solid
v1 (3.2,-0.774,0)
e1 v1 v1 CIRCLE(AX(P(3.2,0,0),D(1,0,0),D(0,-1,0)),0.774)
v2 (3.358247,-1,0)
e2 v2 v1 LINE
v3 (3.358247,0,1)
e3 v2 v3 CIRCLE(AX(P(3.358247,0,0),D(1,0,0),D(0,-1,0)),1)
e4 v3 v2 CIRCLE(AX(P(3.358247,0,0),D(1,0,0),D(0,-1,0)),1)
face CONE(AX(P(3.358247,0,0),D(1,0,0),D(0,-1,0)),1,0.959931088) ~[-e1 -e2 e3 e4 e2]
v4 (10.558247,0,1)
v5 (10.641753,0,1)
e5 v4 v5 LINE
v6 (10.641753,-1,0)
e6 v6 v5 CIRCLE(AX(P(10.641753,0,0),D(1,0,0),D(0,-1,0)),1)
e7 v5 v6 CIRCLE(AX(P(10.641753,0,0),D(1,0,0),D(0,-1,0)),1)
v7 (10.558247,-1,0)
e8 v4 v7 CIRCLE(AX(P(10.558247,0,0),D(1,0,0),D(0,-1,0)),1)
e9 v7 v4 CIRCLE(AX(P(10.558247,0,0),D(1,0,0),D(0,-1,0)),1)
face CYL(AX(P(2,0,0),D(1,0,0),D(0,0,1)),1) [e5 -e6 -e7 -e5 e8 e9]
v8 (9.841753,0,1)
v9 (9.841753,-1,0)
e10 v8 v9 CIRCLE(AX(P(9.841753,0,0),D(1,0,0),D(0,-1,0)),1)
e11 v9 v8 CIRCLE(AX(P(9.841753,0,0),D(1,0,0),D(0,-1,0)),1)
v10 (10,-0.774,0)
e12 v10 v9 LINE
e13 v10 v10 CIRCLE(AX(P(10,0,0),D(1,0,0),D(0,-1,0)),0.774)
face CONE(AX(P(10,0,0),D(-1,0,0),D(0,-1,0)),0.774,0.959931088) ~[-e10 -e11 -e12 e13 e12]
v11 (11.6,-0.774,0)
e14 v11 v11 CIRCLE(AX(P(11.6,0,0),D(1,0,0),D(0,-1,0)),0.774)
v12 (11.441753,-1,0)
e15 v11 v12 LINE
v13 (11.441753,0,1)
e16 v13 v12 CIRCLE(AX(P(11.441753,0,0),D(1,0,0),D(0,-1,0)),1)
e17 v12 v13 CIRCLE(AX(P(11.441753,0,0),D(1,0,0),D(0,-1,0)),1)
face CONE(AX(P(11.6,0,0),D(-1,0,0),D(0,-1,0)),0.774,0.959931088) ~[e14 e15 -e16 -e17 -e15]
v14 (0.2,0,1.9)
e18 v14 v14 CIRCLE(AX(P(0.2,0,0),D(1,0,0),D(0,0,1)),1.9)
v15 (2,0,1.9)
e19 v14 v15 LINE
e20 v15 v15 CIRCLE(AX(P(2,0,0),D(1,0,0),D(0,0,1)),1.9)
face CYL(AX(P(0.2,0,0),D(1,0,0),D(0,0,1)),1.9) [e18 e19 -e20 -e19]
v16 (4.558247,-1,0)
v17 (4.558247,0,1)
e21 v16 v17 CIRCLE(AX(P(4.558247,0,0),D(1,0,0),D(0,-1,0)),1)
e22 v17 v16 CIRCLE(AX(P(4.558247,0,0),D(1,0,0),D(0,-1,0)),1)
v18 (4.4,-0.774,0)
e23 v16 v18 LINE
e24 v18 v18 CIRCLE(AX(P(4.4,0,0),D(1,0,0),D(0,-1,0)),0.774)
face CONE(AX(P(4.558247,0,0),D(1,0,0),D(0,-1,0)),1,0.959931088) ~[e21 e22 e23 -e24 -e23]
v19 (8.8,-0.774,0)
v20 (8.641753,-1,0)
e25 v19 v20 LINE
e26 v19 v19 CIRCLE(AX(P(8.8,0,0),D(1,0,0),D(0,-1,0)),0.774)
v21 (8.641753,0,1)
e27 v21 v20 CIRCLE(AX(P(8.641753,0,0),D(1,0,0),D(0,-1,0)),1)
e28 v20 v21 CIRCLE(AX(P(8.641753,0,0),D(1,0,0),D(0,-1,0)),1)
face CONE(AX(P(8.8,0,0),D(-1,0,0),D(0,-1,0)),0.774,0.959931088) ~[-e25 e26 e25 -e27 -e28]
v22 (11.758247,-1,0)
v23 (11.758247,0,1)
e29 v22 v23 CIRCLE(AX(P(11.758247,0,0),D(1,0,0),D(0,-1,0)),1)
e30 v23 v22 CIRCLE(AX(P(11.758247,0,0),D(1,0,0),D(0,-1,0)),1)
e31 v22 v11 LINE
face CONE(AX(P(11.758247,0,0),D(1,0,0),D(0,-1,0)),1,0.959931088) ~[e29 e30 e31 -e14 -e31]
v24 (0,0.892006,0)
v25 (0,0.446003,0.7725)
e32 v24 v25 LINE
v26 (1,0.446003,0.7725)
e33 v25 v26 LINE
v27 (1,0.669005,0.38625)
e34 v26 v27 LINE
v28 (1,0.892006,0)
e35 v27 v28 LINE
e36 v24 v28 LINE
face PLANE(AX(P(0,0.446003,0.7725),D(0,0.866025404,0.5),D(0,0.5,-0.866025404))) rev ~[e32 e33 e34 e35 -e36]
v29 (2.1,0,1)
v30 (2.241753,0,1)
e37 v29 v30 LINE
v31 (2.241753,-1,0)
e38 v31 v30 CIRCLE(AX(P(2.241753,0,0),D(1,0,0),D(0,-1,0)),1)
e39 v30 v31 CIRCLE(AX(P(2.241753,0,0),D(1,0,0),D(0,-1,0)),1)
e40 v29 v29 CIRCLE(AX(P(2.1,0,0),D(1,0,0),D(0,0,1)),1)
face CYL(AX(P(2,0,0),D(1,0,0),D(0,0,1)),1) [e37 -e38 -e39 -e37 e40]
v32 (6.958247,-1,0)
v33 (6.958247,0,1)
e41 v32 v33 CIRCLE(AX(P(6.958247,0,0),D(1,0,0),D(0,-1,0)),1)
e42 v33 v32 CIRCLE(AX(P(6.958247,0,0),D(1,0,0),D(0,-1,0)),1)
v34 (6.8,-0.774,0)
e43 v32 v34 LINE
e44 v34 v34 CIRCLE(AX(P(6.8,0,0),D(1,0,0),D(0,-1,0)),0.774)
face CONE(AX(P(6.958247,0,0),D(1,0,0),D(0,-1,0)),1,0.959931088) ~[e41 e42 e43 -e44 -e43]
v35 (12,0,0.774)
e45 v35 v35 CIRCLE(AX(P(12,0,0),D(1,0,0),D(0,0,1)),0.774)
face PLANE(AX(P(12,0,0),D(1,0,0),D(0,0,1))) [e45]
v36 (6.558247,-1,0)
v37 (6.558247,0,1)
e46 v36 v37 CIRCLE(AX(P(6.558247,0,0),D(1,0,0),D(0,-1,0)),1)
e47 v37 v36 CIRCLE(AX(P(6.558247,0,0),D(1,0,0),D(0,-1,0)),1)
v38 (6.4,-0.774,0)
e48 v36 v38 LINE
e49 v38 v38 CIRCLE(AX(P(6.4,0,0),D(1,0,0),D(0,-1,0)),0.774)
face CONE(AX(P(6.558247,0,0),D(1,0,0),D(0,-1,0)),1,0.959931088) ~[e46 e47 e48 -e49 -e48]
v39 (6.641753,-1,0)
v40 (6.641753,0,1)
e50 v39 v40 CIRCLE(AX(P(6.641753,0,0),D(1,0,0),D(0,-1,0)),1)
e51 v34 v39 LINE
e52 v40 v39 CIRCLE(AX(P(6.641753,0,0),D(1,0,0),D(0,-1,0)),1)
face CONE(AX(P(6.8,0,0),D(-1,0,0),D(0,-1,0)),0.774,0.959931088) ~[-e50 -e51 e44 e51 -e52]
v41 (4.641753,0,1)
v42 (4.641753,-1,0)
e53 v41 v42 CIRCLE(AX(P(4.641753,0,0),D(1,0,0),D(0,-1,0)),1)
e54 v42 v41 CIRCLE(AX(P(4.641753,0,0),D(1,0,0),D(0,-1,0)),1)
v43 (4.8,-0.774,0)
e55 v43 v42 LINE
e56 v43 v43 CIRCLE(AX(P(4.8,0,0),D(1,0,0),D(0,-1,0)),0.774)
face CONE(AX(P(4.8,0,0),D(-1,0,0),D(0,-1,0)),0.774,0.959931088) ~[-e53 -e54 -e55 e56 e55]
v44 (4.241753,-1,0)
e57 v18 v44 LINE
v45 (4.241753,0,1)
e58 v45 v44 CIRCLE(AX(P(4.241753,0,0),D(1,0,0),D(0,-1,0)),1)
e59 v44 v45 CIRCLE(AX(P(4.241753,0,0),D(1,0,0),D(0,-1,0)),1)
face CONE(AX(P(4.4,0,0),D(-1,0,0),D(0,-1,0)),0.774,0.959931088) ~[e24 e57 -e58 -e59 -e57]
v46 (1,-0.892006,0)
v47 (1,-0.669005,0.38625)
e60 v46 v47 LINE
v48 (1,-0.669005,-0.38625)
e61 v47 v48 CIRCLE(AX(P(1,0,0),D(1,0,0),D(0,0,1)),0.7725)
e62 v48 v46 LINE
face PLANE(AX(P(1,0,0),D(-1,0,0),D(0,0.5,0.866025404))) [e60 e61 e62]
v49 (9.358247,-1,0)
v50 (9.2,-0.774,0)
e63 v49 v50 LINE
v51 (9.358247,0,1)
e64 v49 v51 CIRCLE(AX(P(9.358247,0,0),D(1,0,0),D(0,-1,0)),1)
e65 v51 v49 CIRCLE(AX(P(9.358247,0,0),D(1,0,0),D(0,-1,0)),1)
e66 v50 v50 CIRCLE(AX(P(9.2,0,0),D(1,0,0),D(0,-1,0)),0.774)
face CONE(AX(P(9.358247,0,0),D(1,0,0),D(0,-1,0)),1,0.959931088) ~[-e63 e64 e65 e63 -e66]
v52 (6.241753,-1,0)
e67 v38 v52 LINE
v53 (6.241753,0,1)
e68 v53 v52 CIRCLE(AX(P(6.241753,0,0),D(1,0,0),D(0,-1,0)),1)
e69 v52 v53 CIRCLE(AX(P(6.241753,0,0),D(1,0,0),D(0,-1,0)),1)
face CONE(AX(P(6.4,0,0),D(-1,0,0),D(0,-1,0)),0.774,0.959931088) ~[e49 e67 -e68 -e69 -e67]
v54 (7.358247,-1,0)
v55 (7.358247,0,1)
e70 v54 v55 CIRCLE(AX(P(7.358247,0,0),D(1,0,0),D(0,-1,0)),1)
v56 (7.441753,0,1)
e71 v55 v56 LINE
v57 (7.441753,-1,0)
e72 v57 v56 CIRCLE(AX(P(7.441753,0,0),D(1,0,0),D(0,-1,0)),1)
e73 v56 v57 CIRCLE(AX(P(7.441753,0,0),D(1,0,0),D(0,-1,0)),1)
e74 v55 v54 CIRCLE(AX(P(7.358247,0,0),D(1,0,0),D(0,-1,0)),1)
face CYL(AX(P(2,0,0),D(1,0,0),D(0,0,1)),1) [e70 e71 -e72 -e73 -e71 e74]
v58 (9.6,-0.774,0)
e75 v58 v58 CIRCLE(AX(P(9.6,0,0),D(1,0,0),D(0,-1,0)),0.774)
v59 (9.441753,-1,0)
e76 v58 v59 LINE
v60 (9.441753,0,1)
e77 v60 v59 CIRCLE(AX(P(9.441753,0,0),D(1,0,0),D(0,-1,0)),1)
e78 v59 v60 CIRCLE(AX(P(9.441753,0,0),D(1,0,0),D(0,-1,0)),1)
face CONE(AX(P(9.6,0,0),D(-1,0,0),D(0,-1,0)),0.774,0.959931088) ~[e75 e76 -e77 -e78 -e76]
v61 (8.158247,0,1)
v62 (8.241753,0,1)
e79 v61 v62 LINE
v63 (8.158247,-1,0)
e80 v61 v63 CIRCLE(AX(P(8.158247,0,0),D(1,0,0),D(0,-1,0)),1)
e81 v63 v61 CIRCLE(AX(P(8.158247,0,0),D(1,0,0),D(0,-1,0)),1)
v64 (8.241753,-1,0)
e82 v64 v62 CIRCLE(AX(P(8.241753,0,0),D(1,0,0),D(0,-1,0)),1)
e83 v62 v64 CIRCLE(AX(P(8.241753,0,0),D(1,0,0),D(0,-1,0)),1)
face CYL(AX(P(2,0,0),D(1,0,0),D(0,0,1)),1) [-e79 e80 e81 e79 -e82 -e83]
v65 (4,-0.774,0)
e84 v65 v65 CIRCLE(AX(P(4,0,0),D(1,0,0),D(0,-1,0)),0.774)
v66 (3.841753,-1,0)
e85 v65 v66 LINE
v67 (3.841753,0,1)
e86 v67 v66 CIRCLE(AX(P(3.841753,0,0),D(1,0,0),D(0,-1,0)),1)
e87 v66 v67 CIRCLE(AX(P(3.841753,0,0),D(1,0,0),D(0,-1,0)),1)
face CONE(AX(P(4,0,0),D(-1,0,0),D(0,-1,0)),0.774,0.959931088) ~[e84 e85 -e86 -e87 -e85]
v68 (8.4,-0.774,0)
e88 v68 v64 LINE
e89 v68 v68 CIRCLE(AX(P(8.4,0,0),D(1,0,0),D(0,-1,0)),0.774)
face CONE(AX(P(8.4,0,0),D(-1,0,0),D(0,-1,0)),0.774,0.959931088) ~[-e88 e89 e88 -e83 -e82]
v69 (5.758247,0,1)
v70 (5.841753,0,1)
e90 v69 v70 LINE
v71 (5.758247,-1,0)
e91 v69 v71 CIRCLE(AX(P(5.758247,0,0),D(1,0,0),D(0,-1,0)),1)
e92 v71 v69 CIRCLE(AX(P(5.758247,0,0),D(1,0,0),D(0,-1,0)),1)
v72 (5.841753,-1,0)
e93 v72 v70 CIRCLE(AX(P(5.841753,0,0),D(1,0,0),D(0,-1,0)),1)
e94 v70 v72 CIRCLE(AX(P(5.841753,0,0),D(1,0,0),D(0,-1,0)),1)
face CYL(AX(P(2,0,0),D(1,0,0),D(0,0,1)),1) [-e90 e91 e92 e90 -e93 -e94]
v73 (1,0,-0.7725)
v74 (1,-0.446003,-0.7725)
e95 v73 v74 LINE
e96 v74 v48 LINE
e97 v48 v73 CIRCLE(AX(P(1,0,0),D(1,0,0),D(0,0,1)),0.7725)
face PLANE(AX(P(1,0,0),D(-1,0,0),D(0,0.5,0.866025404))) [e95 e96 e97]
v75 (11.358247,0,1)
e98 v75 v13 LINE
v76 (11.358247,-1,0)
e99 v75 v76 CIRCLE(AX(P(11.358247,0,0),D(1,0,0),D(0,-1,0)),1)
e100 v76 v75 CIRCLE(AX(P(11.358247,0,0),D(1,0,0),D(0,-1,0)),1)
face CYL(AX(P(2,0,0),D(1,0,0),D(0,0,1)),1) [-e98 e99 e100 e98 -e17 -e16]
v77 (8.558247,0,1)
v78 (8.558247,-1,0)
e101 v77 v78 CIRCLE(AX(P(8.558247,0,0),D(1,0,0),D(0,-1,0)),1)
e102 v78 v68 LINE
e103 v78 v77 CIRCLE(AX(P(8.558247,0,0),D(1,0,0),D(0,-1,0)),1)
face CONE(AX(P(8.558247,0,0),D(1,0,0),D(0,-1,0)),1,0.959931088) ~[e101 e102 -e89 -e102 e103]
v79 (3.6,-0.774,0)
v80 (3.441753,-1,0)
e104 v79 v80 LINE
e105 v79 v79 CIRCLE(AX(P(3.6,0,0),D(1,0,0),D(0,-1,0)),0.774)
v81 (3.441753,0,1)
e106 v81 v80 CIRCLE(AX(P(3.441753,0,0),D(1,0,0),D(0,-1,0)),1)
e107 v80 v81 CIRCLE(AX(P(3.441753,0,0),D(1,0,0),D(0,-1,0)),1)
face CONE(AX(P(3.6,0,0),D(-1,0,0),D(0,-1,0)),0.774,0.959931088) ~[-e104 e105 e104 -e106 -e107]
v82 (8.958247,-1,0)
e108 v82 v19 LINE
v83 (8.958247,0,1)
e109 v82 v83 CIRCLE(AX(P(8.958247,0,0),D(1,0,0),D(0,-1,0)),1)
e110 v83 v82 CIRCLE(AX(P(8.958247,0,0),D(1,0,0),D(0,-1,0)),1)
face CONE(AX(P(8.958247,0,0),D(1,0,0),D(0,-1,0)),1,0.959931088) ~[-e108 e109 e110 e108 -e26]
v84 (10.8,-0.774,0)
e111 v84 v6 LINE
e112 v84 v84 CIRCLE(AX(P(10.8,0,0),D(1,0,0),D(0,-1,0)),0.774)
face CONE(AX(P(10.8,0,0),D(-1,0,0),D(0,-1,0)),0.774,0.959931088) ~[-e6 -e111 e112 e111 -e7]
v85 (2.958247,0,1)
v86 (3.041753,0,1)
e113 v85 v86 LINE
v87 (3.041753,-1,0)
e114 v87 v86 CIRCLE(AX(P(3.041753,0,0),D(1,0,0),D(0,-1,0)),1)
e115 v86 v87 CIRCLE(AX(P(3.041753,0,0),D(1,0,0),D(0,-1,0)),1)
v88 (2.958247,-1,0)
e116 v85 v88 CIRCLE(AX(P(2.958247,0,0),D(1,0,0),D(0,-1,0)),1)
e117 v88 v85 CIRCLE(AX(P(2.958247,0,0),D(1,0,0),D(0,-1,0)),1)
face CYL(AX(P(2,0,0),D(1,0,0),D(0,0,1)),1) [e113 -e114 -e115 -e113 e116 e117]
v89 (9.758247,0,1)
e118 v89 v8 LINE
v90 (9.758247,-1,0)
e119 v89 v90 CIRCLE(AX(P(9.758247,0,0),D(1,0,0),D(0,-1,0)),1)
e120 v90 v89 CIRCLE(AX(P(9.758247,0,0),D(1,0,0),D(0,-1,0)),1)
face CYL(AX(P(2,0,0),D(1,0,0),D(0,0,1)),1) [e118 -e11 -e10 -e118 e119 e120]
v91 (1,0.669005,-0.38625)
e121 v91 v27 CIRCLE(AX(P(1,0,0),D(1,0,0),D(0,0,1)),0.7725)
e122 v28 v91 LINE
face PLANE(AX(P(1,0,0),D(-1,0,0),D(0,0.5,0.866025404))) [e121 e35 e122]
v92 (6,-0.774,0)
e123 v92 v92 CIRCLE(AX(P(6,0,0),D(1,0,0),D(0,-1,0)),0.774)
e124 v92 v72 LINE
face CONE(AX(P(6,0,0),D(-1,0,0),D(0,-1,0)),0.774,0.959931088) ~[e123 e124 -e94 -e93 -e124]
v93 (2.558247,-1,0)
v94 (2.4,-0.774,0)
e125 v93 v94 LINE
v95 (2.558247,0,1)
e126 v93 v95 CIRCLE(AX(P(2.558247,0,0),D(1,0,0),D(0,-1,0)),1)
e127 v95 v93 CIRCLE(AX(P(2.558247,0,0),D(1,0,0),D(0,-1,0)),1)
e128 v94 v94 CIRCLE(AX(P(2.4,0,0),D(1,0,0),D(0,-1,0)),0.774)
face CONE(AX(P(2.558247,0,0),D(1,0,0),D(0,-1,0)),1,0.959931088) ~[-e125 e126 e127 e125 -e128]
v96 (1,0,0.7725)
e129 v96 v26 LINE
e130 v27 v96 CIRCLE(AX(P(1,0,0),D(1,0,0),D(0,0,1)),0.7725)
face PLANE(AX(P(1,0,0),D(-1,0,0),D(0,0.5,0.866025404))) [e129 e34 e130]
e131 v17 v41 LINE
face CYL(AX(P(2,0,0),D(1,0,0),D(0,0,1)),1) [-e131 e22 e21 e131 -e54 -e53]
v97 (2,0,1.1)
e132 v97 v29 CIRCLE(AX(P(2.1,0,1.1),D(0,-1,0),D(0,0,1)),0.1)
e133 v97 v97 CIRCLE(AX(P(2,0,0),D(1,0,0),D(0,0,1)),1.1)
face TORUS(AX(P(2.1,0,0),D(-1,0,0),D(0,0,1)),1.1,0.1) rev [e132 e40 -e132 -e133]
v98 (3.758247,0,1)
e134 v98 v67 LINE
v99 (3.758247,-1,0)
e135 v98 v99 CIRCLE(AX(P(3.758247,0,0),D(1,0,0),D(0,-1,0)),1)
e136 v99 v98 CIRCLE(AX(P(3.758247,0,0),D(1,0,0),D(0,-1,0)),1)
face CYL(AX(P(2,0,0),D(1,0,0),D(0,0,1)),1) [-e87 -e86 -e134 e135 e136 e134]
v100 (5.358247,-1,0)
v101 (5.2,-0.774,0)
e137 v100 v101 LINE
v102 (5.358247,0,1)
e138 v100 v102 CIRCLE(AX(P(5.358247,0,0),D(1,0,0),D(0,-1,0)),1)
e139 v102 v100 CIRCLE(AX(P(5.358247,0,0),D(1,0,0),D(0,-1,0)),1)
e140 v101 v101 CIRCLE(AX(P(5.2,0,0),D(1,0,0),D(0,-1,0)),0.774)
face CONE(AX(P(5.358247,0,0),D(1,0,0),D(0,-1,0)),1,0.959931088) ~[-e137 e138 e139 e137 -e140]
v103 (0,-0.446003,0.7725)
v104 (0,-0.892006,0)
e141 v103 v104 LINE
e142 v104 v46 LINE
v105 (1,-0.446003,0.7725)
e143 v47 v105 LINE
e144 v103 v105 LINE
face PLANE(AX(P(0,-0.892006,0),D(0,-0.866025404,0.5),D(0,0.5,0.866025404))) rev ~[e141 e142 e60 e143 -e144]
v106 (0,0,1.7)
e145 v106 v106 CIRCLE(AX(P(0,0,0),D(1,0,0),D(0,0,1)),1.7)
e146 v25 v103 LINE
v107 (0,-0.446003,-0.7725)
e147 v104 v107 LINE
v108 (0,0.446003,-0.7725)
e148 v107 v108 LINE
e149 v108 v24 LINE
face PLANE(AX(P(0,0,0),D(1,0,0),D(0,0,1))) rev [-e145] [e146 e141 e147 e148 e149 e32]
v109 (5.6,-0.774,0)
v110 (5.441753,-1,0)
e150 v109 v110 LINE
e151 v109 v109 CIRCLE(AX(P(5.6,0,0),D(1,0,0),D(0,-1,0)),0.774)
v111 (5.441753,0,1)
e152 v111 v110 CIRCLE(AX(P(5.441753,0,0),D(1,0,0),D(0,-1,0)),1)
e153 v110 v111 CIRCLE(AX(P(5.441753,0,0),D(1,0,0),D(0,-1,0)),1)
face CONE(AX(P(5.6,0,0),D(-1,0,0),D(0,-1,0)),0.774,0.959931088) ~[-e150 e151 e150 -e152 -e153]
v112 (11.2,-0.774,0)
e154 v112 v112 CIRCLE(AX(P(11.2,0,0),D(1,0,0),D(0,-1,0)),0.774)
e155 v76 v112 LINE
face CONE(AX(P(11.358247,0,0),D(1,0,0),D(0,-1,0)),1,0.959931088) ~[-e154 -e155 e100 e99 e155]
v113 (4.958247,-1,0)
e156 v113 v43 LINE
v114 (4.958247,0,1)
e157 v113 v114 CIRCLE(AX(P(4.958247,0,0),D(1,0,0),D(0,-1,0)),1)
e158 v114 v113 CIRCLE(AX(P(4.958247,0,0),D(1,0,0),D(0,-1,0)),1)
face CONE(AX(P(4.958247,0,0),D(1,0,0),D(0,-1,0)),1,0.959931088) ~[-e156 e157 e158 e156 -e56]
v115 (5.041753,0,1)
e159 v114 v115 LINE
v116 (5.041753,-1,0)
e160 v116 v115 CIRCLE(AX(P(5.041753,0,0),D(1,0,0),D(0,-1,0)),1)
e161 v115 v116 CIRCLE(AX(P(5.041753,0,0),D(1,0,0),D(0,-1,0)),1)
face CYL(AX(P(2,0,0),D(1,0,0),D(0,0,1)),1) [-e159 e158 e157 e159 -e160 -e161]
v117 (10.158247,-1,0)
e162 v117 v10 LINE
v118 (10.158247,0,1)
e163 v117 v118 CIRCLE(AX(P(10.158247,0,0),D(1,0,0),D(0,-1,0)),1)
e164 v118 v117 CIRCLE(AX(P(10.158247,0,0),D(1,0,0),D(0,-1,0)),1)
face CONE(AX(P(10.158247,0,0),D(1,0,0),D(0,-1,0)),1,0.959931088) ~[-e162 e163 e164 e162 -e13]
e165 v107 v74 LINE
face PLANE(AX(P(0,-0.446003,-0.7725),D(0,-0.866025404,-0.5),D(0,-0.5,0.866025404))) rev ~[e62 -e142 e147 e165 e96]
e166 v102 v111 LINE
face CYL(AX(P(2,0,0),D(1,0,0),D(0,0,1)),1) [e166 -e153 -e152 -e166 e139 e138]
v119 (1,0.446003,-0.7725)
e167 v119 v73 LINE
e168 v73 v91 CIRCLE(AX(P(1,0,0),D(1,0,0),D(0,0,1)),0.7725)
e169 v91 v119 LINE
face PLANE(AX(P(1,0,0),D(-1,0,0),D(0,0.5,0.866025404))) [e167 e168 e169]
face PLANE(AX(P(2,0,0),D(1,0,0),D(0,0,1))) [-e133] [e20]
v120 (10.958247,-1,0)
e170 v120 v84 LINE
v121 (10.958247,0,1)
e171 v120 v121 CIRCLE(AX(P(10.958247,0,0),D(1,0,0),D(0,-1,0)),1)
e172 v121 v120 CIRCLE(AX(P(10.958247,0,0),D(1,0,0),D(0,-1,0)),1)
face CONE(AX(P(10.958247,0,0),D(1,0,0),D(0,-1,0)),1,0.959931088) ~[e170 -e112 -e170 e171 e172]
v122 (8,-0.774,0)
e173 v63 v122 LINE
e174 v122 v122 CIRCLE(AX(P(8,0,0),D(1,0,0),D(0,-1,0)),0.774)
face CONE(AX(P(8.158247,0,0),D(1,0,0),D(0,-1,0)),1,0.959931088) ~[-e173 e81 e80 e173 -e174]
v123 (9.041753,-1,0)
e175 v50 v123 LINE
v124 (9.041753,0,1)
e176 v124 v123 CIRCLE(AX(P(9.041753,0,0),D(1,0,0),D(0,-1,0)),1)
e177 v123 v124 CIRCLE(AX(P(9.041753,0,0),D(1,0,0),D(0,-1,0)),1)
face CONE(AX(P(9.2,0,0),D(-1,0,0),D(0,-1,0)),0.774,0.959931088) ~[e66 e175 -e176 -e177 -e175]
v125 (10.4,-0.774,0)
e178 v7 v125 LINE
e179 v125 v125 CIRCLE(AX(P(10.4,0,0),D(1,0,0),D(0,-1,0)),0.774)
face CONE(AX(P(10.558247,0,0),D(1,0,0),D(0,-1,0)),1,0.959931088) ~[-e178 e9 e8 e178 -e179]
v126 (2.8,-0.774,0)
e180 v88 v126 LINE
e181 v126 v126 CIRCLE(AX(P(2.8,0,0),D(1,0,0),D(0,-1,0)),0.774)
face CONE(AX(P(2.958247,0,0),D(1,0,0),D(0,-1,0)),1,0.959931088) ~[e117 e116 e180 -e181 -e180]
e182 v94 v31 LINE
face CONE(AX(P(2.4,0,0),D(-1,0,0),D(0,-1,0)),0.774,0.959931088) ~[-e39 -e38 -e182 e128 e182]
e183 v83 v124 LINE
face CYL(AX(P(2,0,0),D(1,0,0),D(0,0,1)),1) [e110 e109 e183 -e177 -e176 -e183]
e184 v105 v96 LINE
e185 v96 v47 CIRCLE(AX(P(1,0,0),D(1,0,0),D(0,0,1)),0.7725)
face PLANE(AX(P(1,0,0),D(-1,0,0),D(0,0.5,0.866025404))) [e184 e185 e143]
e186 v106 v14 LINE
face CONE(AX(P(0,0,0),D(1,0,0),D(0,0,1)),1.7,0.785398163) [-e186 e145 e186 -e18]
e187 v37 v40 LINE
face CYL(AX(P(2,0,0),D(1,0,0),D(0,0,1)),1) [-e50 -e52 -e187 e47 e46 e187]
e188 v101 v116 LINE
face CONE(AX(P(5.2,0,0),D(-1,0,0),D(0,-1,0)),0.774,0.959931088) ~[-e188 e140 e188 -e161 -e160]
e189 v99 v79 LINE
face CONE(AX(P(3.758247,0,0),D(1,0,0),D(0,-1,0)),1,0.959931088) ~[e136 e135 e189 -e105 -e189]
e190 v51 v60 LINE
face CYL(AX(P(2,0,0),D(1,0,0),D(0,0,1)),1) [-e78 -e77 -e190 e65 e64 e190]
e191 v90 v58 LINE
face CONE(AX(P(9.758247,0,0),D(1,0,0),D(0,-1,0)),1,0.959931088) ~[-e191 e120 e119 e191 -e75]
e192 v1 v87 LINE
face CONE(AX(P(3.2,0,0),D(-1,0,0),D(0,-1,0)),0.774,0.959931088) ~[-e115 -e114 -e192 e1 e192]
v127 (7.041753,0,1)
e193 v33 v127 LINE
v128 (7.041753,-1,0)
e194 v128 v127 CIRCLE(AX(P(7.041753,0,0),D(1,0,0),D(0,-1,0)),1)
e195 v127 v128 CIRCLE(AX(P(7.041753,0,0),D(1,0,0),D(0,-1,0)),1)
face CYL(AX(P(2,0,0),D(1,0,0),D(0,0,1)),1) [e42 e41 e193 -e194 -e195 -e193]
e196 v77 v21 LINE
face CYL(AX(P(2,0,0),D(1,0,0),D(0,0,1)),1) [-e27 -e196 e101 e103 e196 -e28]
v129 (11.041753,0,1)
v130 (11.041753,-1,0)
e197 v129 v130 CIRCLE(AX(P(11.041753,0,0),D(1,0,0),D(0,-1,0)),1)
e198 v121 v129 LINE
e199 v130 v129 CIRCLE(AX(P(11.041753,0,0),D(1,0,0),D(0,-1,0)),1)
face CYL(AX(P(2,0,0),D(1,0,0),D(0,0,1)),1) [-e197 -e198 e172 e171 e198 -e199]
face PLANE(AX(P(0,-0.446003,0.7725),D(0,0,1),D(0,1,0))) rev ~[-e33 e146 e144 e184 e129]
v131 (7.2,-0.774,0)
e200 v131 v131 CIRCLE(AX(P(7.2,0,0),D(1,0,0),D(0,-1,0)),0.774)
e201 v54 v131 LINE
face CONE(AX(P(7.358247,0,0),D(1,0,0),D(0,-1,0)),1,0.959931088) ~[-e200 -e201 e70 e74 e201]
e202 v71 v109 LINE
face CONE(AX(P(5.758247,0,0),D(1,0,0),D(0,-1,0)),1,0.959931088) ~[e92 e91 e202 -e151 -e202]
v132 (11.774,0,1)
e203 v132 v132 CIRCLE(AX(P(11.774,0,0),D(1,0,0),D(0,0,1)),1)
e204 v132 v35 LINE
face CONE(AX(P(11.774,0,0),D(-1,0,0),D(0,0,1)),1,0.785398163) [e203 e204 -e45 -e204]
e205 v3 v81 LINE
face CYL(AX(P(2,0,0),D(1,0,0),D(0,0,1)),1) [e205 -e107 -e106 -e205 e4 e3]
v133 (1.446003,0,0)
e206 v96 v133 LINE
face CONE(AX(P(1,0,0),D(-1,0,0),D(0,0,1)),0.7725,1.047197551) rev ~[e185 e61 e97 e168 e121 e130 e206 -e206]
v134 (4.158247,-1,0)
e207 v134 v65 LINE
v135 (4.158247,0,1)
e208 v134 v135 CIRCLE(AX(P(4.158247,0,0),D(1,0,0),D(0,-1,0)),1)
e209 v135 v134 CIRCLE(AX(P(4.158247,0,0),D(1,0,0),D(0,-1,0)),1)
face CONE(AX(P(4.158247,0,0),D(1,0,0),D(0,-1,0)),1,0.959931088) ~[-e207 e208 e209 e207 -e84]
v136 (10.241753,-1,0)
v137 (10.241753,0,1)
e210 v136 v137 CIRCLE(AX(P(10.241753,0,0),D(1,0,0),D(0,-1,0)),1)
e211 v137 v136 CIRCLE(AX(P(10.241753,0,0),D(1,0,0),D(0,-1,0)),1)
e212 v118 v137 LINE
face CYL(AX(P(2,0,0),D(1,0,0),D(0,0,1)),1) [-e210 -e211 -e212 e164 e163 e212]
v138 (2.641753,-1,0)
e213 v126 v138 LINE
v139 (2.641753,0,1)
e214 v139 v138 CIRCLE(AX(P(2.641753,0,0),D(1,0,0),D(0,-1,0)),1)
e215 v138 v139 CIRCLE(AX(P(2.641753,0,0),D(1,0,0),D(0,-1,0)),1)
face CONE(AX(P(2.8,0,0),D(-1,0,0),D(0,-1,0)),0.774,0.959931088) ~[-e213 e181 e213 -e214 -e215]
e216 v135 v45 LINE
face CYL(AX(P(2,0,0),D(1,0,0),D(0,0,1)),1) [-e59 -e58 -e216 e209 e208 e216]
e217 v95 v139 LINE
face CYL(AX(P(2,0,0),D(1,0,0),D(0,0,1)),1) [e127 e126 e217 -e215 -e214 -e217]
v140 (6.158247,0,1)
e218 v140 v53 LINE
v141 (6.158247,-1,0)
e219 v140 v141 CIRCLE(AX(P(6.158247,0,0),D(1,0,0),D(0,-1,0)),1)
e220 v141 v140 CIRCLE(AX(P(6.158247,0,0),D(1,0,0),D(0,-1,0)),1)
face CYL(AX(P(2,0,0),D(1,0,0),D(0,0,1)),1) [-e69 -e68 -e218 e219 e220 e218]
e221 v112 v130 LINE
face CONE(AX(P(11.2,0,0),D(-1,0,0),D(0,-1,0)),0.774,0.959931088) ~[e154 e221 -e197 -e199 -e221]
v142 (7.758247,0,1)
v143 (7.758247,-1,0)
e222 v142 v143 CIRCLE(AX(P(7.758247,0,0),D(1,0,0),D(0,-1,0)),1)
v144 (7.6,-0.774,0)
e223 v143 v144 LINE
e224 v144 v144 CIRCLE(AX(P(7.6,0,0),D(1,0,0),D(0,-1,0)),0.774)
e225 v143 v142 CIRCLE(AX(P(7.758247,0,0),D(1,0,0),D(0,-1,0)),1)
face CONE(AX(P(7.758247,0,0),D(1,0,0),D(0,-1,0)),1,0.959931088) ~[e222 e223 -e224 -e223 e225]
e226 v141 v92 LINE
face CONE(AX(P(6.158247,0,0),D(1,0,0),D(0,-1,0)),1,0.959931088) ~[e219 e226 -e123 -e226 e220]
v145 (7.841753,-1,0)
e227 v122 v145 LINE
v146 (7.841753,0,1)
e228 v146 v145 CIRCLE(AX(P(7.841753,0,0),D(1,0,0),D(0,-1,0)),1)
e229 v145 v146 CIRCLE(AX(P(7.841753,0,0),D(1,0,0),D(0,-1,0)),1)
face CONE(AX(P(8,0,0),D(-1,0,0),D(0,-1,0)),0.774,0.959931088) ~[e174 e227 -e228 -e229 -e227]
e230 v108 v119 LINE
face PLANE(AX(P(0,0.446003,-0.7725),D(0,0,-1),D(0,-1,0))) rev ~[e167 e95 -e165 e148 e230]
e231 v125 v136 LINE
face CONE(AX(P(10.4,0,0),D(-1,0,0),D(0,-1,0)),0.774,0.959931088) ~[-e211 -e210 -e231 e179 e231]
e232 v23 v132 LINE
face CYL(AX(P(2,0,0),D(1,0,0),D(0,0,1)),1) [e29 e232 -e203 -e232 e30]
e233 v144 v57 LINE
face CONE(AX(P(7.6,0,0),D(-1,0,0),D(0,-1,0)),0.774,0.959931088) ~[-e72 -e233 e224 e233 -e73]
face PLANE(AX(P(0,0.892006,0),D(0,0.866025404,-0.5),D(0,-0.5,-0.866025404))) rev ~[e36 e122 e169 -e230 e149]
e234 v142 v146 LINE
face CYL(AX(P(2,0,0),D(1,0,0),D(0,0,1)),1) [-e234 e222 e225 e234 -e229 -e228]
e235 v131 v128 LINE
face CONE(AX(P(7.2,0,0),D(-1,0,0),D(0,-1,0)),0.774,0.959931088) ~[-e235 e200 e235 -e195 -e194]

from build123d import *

# Parameters (mm, degrees)
FILLET1_R       = 0.1
HEX_2_DEPTH     = 1
THDSCHPAT_COUNT = 24
THDSCHPAT_PITCH = 0.4


with BuildPart() as part:
    # BodySke → Base-Revolve (revolve)
    with BuildSketch(Plane.XY, mode=Mode.PRIVATE) as base_revolve_sk:
        Polygon((0, 0), (0, 1.7), (0.2, 1.9), (2, 1.9), (2, 1), (11.774, 1), (12, 0.774), (12, 0), align=None)
    revolve(base_revolve_sk.sketch.rotate(Axis((-31.75, 0, 0), (1, 0, 0)), 90), axis=Axis((-31.75, 0, 0), (1, 0, 0)))

    # Fillet1
    fillet1_edges = [part.edges().sort_by_distance(p)[0] for p in [
        (2, 0, -1),
    ]]
    fillet(fillet1_edges, radius=FILLET1_R)

    # Sketch2 → Hex-PreBroach (revolve, cut)
    with BuildSketch(Plane.XY, mode=Mode.PRIVATE) as hex_prebroach_sk:
        Polygon((0, 0.7725), (1, 0.7725), (1.446003083, 0), (0, 0), align=None)
    revolve(hex_prebroach_sk.sketch.rotate(Axis((0, 0, 0), (1, 0, 0)), 90), axis=Axis((0, 0, 0), (1, 0, 0)), mode=Mode.SUBTRACT)

    # Sketch3 → Hex 2 (cut)
    with BuildSketch(Plane(origin=(0, 0, 0), x_dir=(0, 0.500000000000001, 0.866025403784438), z_dir=(-1, 0, 0))):
        Polygon((0.446003083, 0.7725), (-0.446003083, 0.7725), (-0.892006166, 0), (-0.446003083, -0.7725), (0.446003083, -0.7725), (0.892006166, 0), align=None)
    extrude(amount=-HEX_2_DEPTH, mode=Mode.SUBTRACT)

    # ThdSchSke → ThreadSchematic (revolve, cut)
    with BuildSketch(Plane.XY):
        Polygon((2.4, -0.774), (2.241753096, -1), (2.241753096, -1.25), (2.558246904, -1.25), (2.558246904, -1), align=None)
    threadschematic = revolve(axis=Axis((-3.175, 0, 0), (1, 0, 0)), mode=Mode.SUBTRACT)

    # ThdSchPat: ThreadSchematic ×24
    with Locations(*[(i * THDSCHPAT_PITCH, 0, 0) for i in range(1, THDSCHPAT_COUNT)]):
        add(threadschematic, mode=Mode.SUBTRACT)


solid = part.part
